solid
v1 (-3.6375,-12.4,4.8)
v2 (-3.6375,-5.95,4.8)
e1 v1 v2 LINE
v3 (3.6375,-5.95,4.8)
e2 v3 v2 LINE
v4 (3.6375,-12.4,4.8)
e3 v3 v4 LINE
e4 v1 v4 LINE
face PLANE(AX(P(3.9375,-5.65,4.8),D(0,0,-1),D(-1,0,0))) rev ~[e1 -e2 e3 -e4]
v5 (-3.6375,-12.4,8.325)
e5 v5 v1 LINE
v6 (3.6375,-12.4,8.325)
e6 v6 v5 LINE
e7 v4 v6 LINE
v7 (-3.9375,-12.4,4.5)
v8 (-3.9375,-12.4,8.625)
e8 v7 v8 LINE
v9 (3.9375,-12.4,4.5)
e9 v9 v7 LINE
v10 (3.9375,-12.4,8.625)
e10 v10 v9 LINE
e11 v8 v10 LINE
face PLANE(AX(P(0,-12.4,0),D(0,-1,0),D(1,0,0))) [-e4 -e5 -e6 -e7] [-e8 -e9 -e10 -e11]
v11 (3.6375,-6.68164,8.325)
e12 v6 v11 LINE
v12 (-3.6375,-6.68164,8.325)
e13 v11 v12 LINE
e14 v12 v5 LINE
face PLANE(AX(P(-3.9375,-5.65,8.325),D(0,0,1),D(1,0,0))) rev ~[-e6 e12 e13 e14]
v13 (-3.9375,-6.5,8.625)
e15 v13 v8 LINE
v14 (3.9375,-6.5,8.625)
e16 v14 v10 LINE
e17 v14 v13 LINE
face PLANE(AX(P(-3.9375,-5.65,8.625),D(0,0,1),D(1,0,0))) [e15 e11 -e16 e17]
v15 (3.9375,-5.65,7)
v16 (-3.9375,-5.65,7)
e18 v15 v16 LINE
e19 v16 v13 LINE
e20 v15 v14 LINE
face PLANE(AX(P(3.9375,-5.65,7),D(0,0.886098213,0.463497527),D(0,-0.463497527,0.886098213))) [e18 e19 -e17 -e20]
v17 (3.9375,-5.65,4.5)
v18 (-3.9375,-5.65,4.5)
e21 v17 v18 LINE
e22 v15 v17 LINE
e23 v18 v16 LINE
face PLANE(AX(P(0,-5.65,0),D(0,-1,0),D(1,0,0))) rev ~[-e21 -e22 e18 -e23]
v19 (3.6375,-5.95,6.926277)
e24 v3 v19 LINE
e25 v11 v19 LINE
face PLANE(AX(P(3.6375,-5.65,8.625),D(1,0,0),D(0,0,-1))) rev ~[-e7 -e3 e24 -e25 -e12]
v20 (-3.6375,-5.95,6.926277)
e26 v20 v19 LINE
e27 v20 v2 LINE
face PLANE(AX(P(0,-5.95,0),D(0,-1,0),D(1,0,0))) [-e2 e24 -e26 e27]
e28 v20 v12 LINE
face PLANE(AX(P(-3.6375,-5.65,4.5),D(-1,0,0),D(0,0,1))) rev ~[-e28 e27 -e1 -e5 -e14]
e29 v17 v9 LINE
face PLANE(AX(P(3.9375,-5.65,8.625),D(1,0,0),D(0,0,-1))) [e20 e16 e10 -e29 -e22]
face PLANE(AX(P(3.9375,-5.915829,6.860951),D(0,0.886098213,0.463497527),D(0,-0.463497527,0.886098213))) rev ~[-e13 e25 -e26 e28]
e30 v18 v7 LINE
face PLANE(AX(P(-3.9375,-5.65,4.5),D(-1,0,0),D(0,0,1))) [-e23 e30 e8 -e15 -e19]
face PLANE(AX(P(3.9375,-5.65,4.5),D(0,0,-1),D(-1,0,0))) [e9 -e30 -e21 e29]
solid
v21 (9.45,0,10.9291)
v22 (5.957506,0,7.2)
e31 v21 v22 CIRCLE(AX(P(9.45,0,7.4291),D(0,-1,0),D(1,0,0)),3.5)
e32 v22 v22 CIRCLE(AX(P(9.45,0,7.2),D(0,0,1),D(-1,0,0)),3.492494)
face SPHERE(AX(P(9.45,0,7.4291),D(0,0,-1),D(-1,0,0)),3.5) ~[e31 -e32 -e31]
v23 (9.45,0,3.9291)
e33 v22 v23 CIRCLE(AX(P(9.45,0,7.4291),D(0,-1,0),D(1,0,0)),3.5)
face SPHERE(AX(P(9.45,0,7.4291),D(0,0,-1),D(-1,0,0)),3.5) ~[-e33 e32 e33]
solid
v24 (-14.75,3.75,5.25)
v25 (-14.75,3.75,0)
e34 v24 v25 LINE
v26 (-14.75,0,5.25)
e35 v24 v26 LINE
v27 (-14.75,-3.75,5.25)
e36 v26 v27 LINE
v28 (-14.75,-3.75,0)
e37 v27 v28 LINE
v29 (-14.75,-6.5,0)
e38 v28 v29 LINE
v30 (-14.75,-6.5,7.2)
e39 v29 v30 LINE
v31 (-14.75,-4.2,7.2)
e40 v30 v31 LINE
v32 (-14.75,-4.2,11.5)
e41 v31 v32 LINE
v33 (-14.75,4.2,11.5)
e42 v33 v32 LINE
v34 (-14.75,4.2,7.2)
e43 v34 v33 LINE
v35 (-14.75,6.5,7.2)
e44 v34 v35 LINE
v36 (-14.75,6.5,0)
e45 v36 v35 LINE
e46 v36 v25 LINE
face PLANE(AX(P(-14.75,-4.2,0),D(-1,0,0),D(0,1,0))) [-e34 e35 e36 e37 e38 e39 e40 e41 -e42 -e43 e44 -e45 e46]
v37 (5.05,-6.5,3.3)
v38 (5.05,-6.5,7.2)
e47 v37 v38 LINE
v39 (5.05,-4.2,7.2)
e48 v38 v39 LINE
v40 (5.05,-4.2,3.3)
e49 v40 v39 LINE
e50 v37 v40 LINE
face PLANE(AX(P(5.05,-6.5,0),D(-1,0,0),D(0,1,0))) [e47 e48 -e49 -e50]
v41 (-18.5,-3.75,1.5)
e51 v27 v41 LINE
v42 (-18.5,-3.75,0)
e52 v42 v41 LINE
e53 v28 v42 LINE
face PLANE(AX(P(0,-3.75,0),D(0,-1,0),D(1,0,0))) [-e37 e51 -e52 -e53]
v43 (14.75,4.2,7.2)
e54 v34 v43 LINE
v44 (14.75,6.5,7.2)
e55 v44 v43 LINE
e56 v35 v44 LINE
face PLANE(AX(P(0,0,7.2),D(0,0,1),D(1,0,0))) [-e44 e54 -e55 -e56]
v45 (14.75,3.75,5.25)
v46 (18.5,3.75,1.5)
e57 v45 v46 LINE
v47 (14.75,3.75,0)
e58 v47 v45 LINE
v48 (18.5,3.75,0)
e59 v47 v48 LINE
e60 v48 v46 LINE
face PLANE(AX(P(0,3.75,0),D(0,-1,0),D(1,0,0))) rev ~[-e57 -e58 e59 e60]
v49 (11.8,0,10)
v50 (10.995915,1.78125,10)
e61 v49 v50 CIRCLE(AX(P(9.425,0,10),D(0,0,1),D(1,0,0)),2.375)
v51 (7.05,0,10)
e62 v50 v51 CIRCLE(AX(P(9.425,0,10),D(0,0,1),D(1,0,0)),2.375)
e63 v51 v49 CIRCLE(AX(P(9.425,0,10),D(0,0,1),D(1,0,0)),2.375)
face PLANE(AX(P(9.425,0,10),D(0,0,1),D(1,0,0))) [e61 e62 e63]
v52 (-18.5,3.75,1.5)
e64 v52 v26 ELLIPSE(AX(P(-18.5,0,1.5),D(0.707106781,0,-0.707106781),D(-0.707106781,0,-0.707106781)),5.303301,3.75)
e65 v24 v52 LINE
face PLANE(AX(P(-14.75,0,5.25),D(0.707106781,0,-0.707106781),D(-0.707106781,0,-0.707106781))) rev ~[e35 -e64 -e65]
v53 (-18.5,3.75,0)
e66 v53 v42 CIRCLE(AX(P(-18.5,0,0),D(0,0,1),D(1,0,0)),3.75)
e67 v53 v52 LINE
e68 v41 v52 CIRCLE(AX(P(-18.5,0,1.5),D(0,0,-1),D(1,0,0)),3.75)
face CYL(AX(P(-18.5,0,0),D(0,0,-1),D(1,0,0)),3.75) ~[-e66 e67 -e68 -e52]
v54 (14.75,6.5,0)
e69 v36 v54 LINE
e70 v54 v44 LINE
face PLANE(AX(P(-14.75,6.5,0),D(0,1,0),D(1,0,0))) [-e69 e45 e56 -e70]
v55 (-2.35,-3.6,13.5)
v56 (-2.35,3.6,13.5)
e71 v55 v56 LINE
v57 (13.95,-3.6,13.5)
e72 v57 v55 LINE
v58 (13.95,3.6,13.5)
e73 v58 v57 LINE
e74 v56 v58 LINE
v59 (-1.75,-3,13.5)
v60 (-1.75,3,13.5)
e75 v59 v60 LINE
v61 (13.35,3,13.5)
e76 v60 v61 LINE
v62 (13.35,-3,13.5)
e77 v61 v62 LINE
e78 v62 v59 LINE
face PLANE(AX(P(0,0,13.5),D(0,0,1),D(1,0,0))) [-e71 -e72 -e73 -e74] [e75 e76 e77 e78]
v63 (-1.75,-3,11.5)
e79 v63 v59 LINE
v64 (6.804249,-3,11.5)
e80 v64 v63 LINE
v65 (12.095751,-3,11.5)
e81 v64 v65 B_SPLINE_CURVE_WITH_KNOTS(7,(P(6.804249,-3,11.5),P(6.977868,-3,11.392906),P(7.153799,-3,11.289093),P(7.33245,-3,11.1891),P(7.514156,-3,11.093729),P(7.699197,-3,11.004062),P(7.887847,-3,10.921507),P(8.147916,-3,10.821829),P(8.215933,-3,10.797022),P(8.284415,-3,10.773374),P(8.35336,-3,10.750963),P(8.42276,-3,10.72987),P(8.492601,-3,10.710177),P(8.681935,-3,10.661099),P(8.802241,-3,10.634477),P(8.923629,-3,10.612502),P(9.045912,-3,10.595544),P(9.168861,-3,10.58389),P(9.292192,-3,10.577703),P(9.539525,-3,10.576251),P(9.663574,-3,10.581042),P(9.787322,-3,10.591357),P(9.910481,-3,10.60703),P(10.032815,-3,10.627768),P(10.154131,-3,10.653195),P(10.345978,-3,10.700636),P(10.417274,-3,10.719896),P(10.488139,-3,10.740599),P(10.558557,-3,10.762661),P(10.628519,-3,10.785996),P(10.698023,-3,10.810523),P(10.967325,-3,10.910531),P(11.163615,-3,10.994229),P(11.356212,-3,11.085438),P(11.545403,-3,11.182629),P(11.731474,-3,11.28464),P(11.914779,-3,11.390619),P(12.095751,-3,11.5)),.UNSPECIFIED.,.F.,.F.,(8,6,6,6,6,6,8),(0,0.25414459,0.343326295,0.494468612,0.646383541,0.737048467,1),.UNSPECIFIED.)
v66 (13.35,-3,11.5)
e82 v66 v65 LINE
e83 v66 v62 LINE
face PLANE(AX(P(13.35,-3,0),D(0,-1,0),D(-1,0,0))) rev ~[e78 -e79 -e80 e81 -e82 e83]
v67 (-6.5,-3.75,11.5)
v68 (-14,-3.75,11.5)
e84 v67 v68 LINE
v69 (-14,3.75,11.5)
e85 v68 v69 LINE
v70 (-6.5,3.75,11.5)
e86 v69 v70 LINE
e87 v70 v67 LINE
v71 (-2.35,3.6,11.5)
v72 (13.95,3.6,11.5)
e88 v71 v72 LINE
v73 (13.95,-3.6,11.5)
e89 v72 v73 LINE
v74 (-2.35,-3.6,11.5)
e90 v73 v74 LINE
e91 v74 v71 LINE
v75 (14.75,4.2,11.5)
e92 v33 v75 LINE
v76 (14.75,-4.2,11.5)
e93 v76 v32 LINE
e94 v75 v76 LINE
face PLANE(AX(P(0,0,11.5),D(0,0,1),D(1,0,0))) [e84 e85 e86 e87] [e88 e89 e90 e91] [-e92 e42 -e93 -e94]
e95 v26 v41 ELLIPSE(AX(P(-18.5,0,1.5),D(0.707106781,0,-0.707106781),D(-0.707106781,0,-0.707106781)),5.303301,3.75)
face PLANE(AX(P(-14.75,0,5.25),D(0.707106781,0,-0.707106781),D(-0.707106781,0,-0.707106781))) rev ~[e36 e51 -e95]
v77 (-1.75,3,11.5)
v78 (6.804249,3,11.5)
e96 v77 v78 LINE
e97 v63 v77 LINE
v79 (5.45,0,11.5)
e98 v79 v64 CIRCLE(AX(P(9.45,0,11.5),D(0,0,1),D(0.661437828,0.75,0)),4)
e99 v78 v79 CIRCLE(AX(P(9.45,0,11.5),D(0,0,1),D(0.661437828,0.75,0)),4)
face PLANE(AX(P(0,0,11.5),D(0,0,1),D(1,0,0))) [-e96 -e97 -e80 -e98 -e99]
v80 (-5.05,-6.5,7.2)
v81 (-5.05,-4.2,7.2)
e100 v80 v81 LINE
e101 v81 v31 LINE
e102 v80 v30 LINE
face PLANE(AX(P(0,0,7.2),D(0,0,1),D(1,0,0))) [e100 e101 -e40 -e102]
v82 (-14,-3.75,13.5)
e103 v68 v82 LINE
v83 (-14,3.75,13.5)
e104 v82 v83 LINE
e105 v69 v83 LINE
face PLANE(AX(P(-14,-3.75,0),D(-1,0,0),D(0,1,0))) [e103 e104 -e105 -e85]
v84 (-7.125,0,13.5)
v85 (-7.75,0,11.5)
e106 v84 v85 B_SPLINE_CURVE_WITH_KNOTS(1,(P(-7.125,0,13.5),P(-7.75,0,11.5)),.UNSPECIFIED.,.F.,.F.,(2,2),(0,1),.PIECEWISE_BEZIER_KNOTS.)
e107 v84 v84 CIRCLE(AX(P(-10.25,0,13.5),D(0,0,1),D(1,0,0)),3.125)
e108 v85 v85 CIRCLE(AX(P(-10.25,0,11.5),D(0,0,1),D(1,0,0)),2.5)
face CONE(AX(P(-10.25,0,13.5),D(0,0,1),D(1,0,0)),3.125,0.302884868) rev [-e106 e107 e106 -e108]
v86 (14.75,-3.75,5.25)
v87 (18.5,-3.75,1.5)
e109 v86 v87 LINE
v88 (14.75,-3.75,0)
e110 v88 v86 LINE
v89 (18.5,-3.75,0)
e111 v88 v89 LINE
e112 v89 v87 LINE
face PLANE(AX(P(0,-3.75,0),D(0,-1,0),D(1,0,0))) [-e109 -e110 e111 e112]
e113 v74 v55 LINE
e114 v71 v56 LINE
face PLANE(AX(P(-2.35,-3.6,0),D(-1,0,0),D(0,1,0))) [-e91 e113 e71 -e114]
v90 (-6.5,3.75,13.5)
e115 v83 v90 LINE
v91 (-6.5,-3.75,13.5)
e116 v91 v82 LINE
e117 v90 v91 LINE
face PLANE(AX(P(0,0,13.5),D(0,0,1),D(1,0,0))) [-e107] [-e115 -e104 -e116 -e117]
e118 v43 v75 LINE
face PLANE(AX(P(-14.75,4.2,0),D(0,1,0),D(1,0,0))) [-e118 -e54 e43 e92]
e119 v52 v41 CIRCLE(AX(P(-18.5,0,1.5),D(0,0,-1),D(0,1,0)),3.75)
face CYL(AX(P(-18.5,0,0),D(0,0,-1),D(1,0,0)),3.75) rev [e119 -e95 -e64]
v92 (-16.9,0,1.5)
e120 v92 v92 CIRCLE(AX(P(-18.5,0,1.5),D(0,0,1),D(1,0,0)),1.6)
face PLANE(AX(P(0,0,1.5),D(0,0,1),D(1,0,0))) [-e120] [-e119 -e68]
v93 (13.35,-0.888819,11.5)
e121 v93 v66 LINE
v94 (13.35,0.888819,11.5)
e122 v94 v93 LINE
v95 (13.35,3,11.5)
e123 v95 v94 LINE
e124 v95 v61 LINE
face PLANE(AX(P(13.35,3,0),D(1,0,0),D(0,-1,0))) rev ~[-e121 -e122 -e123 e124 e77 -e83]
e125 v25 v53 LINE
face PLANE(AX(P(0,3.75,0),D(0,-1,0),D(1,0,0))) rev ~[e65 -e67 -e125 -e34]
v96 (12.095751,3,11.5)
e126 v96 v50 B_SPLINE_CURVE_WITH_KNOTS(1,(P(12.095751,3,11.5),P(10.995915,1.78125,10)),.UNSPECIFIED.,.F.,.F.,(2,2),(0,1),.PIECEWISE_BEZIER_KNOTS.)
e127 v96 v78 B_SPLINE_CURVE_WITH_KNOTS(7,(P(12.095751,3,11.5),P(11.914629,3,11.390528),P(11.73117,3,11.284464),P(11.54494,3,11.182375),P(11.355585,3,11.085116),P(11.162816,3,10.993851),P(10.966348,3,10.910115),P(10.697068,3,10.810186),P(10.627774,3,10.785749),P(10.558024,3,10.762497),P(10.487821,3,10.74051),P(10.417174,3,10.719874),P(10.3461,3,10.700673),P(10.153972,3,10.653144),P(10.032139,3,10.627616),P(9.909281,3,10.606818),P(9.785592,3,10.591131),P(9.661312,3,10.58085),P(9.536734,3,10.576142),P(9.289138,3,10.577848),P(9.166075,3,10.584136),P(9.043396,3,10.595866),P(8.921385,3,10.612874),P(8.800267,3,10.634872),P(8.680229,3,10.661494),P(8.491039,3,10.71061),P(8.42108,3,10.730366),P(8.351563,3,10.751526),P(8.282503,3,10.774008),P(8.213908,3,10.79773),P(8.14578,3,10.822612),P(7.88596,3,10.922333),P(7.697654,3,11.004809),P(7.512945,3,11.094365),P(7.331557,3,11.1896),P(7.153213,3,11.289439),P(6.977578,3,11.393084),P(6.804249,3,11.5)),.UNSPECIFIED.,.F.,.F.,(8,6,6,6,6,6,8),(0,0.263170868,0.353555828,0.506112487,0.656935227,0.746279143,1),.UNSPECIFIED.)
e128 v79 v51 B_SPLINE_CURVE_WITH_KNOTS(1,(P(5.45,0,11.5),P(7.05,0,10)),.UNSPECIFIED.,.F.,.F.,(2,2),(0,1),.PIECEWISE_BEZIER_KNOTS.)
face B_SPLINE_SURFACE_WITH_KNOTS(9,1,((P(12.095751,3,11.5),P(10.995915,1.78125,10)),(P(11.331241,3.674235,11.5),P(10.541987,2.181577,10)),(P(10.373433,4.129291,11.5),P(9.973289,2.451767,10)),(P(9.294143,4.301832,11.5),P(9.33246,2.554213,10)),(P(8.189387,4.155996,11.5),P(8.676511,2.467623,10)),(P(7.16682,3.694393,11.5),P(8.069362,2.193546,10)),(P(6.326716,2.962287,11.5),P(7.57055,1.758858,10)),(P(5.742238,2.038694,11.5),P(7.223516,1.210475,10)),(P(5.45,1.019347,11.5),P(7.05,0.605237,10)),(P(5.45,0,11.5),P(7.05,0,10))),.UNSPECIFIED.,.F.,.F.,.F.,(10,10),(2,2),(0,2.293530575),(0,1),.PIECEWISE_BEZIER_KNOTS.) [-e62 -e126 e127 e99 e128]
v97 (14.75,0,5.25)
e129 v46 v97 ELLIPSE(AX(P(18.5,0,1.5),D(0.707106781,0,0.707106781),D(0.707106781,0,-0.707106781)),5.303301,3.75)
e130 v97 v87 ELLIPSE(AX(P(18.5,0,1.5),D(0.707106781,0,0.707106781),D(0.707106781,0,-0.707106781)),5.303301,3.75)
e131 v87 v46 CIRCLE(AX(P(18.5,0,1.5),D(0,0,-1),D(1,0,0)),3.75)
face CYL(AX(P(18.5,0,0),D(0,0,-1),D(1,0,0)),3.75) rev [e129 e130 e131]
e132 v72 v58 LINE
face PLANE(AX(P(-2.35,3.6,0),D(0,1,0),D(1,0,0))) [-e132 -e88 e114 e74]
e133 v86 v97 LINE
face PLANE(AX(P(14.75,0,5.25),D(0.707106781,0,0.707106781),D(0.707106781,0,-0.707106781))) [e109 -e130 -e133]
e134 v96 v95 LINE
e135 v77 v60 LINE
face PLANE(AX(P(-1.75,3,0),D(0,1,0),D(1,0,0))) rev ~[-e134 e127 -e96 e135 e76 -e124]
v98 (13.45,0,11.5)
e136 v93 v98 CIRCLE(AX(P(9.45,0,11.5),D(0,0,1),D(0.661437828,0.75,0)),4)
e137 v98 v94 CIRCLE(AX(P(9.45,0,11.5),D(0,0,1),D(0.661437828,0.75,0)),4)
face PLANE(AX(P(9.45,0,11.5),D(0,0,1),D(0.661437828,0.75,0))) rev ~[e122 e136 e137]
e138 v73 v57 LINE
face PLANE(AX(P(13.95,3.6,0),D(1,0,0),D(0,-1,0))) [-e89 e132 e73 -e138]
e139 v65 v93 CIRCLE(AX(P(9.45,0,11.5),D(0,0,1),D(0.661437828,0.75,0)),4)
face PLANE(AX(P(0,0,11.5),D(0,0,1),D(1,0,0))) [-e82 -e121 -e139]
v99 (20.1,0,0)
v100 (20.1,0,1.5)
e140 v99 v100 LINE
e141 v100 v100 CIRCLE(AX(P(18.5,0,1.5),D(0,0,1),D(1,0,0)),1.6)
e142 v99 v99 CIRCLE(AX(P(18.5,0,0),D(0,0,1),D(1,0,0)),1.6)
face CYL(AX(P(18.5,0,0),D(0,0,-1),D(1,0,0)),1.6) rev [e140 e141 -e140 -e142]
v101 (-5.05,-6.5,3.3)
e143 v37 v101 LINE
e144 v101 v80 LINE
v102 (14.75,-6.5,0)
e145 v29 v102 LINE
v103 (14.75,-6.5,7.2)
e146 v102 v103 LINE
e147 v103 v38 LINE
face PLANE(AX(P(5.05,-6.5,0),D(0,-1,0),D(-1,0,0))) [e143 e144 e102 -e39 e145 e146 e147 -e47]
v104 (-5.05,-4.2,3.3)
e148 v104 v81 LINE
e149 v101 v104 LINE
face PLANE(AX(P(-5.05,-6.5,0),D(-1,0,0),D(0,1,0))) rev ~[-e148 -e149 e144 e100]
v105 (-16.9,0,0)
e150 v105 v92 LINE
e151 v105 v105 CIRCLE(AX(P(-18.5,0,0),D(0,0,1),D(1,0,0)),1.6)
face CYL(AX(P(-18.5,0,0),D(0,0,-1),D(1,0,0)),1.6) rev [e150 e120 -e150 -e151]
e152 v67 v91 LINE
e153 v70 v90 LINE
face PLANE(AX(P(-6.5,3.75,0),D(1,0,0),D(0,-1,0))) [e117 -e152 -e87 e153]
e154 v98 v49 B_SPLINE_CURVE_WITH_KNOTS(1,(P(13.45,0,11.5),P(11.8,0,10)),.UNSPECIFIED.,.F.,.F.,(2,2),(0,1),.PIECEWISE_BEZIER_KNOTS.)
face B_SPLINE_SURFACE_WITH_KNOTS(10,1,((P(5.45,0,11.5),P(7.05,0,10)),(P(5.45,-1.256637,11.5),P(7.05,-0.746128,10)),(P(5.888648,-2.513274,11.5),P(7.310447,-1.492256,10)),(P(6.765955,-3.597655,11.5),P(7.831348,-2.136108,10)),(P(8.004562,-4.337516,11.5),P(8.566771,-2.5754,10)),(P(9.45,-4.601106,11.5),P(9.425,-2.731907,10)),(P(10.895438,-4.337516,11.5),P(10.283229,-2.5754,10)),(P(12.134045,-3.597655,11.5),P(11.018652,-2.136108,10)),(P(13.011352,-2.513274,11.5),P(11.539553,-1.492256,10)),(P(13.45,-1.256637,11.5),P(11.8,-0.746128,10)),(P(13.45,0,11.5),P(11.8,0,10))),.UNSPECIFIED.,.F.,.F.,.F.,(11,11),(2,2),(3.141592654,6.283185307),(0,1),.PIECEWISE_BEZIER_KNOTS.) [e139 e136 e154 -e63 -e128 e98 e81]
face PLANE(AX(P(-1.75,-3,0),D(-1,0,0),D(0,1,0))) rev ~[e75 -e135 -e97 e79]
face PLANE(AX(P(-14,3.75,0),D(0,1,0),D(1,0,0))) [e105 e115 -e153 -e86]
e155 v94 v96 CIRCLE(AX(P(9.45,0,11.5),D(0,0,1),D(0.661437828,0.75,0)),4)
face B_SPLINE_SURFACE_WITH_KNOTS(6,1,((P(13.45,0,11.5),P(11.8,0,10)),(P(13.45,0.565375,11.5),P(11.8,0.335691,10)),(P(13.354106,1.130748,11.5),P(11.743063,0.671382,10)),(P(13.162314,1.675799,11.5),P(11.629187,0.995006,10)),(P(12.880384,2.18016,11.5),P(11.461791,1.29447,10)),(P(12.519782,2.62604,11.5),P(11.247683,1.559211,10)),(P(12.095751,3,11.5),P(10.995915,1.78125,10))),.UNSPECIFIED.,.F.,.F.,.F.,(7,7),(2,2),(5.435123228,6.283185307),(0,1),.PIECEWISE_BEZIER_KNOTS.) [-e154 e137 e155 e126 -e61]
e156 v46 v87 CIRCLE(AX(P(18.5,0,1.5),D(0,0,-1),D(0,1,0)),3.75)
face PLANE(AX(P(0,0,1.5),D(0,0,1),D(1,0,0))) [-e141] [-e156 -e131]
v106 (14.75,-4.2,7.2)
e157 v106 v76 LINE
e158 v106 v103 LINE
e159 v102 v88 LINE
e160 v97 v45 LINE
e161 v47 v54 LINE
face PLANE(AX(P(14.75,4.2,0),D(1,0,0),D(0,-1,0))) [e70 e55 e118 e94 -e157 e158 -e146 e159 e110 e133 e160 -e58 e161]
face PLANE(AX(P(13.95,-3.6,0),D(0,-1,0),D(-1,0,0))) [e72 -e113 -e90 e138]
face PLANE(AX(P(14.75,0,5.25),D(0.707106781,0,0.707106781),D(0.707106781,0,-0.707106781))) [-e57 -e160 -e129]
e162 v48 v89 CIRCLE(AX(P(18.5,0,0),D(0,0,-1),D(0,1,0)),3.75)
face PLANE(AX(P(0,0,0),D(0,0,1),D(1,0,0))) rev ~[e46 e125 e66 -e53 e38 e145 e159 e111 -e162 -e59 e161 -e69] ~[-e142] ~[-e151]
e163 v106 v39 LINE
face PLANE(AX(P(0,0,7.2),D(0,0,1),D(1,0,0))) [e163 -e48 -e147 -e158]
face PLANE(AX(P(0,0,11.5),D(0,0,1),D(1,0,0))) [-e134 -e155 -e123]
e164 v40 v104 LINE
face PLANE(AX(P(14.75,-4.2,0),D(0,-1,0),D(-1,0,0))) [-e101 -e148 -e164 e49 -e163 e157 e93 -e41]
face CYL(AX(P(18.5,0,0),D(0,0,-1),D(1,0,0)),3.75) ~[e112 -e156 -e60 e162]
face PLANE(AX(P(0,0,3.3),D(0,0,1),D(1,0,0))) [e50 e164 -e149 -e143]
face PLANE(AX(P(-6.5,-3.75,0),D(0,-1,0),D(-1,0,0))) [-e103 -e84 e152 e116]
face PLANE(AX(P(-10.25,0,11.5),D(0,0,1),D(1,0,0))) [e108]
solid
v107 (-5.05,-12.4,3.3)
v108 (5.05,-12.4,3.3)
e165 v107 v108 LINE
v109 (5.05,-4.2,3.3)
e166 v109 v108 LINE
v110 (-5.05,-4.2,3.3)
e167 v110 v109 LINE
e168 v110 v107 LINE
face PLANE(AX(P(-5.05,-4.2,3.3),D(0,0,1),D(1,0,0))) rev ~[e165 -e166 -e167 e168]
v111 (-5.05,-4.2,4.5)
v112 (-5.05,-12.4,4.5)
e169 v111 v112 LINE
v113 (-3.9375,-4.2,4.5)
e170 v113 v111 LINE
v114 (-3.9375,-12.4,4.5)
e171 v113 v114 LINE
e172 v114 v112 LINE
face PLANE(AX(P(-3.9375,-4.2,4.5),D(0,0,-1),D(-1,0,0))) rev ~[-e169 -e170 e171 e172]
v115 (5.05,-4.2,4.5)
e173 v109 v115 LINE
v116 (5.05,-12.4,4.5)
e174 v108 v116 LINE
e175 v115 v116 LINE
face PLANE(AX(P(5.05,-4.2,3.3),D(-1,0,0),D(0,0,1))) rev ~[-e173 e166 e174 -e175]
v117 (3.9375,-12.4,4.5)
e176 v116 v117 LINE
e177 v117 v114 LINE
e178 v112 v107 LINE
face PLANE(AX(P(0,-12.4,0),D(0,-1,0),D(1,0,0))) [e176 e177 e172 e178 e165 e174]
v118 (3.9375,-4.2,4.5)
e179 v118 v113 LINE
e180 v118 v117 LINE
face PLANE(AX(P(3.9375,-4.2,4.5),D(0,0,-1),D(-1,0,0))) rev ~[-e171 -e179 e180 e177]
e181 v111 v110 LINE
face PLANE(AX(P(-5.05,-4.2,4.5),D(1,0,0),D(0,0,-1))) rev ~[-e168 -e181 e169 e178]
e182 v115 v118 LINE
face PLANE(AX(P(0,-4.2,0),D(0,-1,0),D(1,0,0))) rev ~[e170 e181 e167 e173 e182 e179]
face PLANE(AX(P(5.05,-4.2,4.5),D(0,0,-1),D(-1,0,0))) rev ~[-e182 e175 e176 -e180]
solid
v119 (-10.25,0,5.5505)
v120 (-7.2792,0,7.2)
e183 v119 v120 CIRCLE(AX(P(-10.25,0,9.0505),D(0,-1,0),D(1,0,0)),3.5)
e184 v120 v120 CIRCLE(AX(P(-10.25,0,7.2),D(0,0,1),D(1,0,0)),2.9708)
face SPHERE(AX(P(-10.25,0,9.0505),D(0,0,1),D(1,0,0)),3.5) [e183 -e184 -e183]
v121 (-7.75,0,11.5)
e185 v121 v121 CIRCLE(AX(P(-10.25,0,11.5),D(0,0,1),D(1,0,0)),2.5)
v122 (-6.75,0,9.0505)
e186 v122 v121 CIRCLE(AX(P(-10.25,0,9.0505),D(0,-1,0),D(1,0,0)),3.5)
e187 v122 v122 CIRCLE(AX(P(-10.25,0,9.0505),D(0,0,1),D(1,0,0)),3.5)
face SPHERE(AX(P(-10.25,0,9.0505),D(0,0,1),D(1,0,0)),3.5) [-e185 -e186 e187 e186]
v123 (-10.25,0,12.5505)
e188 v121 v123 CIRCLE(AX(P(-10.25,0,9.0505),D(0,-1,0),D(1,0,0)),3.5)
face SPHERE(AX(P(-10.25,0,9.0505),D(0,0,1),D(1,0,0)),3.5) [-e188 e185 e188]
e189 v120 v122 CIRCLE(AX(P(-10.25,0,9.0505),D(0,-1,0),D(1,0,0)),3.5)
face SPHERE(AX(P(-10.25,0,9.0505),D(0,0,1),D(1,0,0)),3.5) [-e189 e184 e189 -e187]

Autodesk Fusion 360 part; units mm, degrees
sketch "Base" plane through (0, 0, 0) normal (0, 0, 1) x (1, 0, 0)
  line L0 (-14.75, 6.5) -> (14.75, 6.5)
  line L1 (14.75, 6.5) -> (14.75, -6.5)
  line L2 (14.75, -6.5) -> (-14.75, -6.5)
  line L3 (-14.75, -6.5) -> (-14.75, 6.5)
  line L4 (-18.5, 0) -> (18.5, 0) construction
  circle A0 centre (18.5, 0) radius 1.6
  circle A1 centre (18.5, 0) radius 3.75
  circle A2 centre (-18.5, 0) radius 1.6
  circle A3 centre (-18.5, 0) radius 3.75
  line L5 (-14.75, 3.75) -> (-18.5, 3.75)
  line L6 (14.75, 3.75) -> (18.5, 3.75)
  line L7 (-14.75, -3.75) -> (-18.5, -3.75)
  line L8 (14.75, -3.75) -> (18.5, -3.75)
  line L9 (-6.5, -3.75) -> (-14, -3.75)
  line L10 (-14, -3.75) -> (-14, 3.75)
  line L11 (-14, 3.75) -> (-6.5, 3.75)
  line L12 (-6.5, 3.75) -> (-6.5, -3.75)
  line L13 (-14.75, 4.2) -> (14.75, 4.2)
  line L14 (14.75, -4.2) -> (-14.75, -4.2)
  line L15 (-2.35, 3.6) -> (13.95, 3.6)
  line L16 (13.95, 3.6) -> (13.95, -3.6)
  line L17 (13.95, -3.6) -> (-2.35, -3.6)
  line L18 (-2.35, -3.6) -> (-2.35, 3.6)
  line L19 (-2.35, -3.6) -> (13.95, 3.6) construction
  line L20 (-14, -3.75) -> (-6.5, 3.75) construction
  line L21 (-14.75, -6.5) -> (14.75, 6.5) construction
  line L22 (13.35, -3) -> (-1.75, -3)
  line L23 (-1.75, -3) -> (-1.75, 3)
  line L24 (-1.75, 3) -> (13.35, 3)
  line L25 (13.35, 3) -> (13.35, -3)
  line L26 (0, 0) -> (0, -6.5) construction
  line L27 (-5.05, -6.5) -> (-5.05, -4.2)
  line L28 (5.05, -6.5) -> (5.05, -4.2)
  point P0 (-10.25, 0)
  point P1 (9.45, 0)
  point P2 (-10.25, 0)
  point P3 (5.8, 0)
  dimension "d1" = 29.5
  dimension "d2" = 13
  dimension "d3" = 37
  dimension "d4" = 3.2
  dimension "d5" = 7.5
  dimension "d6" = 19.7
  dimension "d7" = 4.5
  dimension "d8" = 7.5
  dimension "d9" = 7.5
  dimension "d10" = 8.4
  dimension "d11" = 4.2
  dimension "d12" = 16.3
  dimension "d13" = 7.2
  dimension "d14" = 4.15
  dimension "d16" = 0.6
  dimension "d62" = 10.1
  dimension "d63" = 5.05
extrude "Extrude1" add sketch "Base" along normal blind 13.5 contours L9 L10 L11 L12 | L15 L16 L17 L18 makes body 1 at (-9, -3.75, 4.5) makes body 2 at (3.0833, 3.6, 4.5)
extrude "Extrude2" add sketch "Base" along normal blind 11.5 contours L1 L3 L13 L14 | L22 L23 L24 L25 bodies 1 2
extrude "Extrude3" add sketch "Base" along normal blind 7.2 contours L0 L1 L3 L13 | L2 L3 L14 L27 | L1 L2 L14 L28 bodies 1
extrude "Extrude10" add sketch "Base" along normal blind 3.3 contours L2 L14 L27 L28 bodies 1
sketch "Fixation" plane through (0, -6.5, 0) normal (0, -1, 0) x (1, 0, 0)
  line L0 (-14.75, 0) -> (14.75, 0)
  line L1 (14.75, 0) -> (14.75, 7.2)
  line L2 (14.75, 7.2) -> (5.05, 7.2)
  line L3 (-14.75, 7.2) -> (-14.75, 0)
  line L4 (14.75, 0) -> (18.5, 0)
  line L5 (14.75, 0) -> (14.75, 5.25)
  line L6 (18.5, 0) -> (18.5, 1.5)
  line L7 (14.75, 5.25) -> (18.5, 1.5)
  line L8 (0, 0) -> (0, 3) construction
  line L9 (-14.75, 5.25) -> (-18.5, 1.5)
  line L10 (-18.5, 0) -> (-18.5, 1.5)
  line L11 (-14.75, 0) -> (-18.5, 0)
  line L12 (-14.75, 0) -> (-14.75, 5.25)
  line L13 (5.05, 7.2) -> (5.05, 3.3)
  line L14 (-5.05, 3.3) -> (-5.05, 7.2)
  line L15 (5.05, 3.3) -> (-5.05, 3.3)
  line L16 (-5.05, 7.2) -> (-14.75, 7.2)
  dimension "d25" = 3.75
  dimension "d26" = 5.25
  dimension "d27" = 1.5
extrude "Extrude5" add sketch "Fixation" along normal mid plane 7.5 from surface at -6.5 contours L3 L9 L10 L11 L12 | L1 L4 L5 L6 L7 bodies 1
extrude "Extrude6" cut sketch "Base" along normal through all contours A3 | A1 | A0 | A2 bodies 1
extrude "Extrude7" add sketch "Base" along normal blind 1.5 contours A3 | A1 bodies 1
ref_plane "WorkPlane2" through (5.8, 0, 10) normal (0, 0, 1) x (1, 0, 0)
sketch "Detector_Fitting1" plane through (0, 0, 11.5) normal (0, 0, 1) x (1, 0, 0)
  line L0 (13.35, 3) -> (-1.75, 3)
  line L1 (-1.75, 3) -> (-1.75, -3)
  line L2 (-1.75, -3) -> (13.35, -3)
  line L3 (13.35, -3) -> (13.35, 3)
  line L4 (0, 0) -> (9.45, 0) construction
  circle A0 centre (9.45, 0) radius 4
  dimension "d34" = 9.45
  dimension "d35" = 8
sketch "Detector_Fitting2" plane through (5.8, 0, 10) normal (0, 0, 1) x (1, 0, 0)
  line L0 (0, 0) -> (3.625, 0)
  circle A0 centre (3.625, 0) radius 2.375
  dimension "d38" = 3.625
  dimension "d39" = 4.75
loft "Loft1" cut profiles "Detector_Fitting1", "Detector_Fitting2" section 1 contours L0 L2 L3 A0 | L0 A0 | L3 A0 | L2 A0 section 2 bodies 1
extrude "Extrude8" add 1 faces at (-1.6833, -4.2, 10.0667) along direction (0, 1, 0) up to surface (1.2 mm away) on bodies 1 bodies 1
extrude "Extrude9" add 1 faces at (4.9167, 4.2, 10.0667) along direction (0, -1, 0) up to surface (1.2 mm away) on bodies 1 bodies 1
ref_plane "WorkPlane4" through (-10.25, 0, 11.5) normal (0, 0, 1) x (1, 0, 0)
sketch "Emitter_Fitting1" plane through (-10.25, 0, 11.5) normal (0, 0, 1) x (1, 0, 0)
  circle A0 centre (0, 0) radius 2.5
  dimension "d50" = 5
sketch "Emitter_Fitting2" plane through (0, 0, 13.5) normal (0, 0, 1) x (1, 0, 0)
  line L0 (-6.5, 3.75) -> (-14, 3.75)
  line L1 (-14, 3.75) -> (-14, -3.75)
  line L2 (-14, -3.75) -> (-6.5, -3.75)
  line L3 (-6.5, -3.75) -> (-6.5, 3.75)
  line L4 (0, 0) -> (-10.25, 0) construction
  circle A0 centre (-10.25, 0) radius 3.125
  dimension "d51" = 10.25
  dimension "d52" = 6.25
loft "Loft2" cut profiles "Emitter_Fitting2", "Emitter_Fitting1" section 1 contours A0 section 2 bodies 1
ref_plane "WorkPlane3" through (0, 0, 7.4) normal (0, -1, 0) x (1, 0, 0)
sketch "Emitter_Detector" plane through (0, 0, 0) normal (0, -1, 0) x (1, 0, 0)
  line L0 (-14.75, 7.2) -> (14.75, 7.2)
  line L1 (14.75, 7.2) -> (14.75, 11.5)
  line L2 (14.75, 11.5) -> (-14.75, 11.5)
  line L3 (-14.75, 11.5) -> (-14.75, 7.2)
  line L4 (9.45, 10) -> (9.45, 13.5577) construction
  line L5 (11.825, 10) -> (11.825, 13.5577) construction
  line L6 (7.075, 10) -> (7.075, 13.5577) construction
  circle A0 centre (9.45, 7.4291) radius 3.5
  line L7 (-14.75, 11.5) -> (-10.25, 11.5) construction
  line L8 (-10.25, 11.5) -> (-10.25, 14)
  line L9 (-7.75, 11.5) -> (-7.75, 14)
  line L10 (-12.75, 11.5) -> (-12.75, 14)
  line L11 (-10.25, 11.5) -> (-10.25, 5.5505)
  circle A1 centre (-10.25, 9.0505) radius 3.5
  line L12 (9.45, 10.9291) -> (9.45, 3.9291)
  point P0 (9.45, 10.9291)
  dimension "d45" = 2.375
  dimension "d46" = -2.375
  dimension "d47" = 7
  dimension "d53" = 4.5
  dimension "d54" = 2.5
  dimension "d55" = -2.5
  dimension "d56" = 7
  dimension "d59" = 1.5
  dimension "d60" = 5.3
revolve "Revolve1" add sketch "Emitter_Detector" angle 360 about axis through (9.45, 0, 10) along (0, 0, 1) separate body contours L0 A0 L12 | L0 A0 L12 picked at (9.2771, 9.6732) picked at (7.143, 7.0419) makes body 3
revolve "Revolve2" add sketch "Emitter_Detector" angle 360 about axis through (-10.25, 0, 11.5) along (0, 0, 1) separate body contours L0 L2 L11 A1 | L0 L11 A1 | L2 L8 A1 picked at (-9.1221, 9.5483) picked at (-10.0816, 6.1126) picked at (-10.0958, 12.1901) makes body 4
sketch "Connector_and_PCB" plane through (0, -4.2, 0) normal (0, -1, 0) x (1, 0, 0)
  line L0 (-5.05, 3.3) -> (5.05, 3.3)
  line L1 (5.05, 3.3) -> (5.05, 7.2)
  line L2 (5.05, 7.2) -> (14.75, 7.2)
  line L3 (14.75, 7.2) -> (14.75, 11.5)
  line L4 (14.75, 11.5) -> (-14.75, 11.5)
  line L5 (-14.75, 11.5) -> (-14.75, 7.2)
  line L6 (-14.75, 7.2) -> (-5.05, 7.2)
  line L7 (-5.05, 7.2) -> (-5.05, 3.3)
  line L8 (-5.05, 3.3) -> (5.05, 3.3)
  line L9 (5.05, 3.3) -> (5.05, 4.5)
  line L10 (5.05, 4.5) -> (-5.05, 4.5)
  line L11 (-5.05, 4.5) -> (-5.05, 3.3)
  line L12 (-3.9375, 4.5) -> (-3.9375, 8.625)
  line L13 (-3.9375, 8.625) -> (3.9375, 8.625)
  line L14 (3.9375, 8.625) -> (3.9375, 4.5)
  point P0 (0, 8.625)
  point P1 (0, 4.5)
  dimension "d66" = 10.1
  dimension "d67" = 1.2
  dimension "d68" = 4.125
  dimension "d69" = 7.875
extrude "Extrude11" add sketch "Connector_and_PCB" along normal blind 6.75 from surface at 1.45 separate body contours L10 L12 L13 L14 makes body 5
sketch "Connector_side" plane through (3.9375, 0, 0) normal (1, 0, 0) x (0, 0, -1)
  line L0 (-4.5, -5.65) -> (-8.625, -5.65)
  line L1 (-8.625, -5.65) -> (-8.625, -12.4)
  line L2 (-8.625, -12.4) -> (-4.5, -12.4)
  line L3 (-4.5, -12.4) -> (-4.5, -5.65)
  line L4 (-4.5, -12.4) -> (-4.5, -5.65)
  line L5 (-4.5, -12.4) -> (-8.625, -12.4)
  line L6 (-8.625, -12.4) -> (-8.625, -6.5)
  line L7 (-4.5, -5.65) -> (-7, -5.65)
  line L8 (-7, -5.65) -> (-8.625, -6.5)
  dimension "d73" = 5.9
  dimension "d75" = 2.5
extrude "Extrude12" cut sketch "Connector_side" against normal up to surface (7.875 mm away) contours L0 L1 L2 L3 L4 L5 L6 L7 L8 keep common part bodies 5
shell "Shell1" thickness 0.3 removed faces 1 at (1.3125, -12.4, 5.875) on bodies 5
extrude "Extrude13" add sketch "Connector_and_PCB" along normal blind 8.2 separate body contours L0 L1 L7 L8 L9 L10 L11 makes body 6
equation "d26 = 3.75 mm + 1.5 mm"
equation "d45 = ( 4.75 / 2 ) * 1 mm"
equation "d46 = ( -4.75 / 2 ) * 1 mm"
